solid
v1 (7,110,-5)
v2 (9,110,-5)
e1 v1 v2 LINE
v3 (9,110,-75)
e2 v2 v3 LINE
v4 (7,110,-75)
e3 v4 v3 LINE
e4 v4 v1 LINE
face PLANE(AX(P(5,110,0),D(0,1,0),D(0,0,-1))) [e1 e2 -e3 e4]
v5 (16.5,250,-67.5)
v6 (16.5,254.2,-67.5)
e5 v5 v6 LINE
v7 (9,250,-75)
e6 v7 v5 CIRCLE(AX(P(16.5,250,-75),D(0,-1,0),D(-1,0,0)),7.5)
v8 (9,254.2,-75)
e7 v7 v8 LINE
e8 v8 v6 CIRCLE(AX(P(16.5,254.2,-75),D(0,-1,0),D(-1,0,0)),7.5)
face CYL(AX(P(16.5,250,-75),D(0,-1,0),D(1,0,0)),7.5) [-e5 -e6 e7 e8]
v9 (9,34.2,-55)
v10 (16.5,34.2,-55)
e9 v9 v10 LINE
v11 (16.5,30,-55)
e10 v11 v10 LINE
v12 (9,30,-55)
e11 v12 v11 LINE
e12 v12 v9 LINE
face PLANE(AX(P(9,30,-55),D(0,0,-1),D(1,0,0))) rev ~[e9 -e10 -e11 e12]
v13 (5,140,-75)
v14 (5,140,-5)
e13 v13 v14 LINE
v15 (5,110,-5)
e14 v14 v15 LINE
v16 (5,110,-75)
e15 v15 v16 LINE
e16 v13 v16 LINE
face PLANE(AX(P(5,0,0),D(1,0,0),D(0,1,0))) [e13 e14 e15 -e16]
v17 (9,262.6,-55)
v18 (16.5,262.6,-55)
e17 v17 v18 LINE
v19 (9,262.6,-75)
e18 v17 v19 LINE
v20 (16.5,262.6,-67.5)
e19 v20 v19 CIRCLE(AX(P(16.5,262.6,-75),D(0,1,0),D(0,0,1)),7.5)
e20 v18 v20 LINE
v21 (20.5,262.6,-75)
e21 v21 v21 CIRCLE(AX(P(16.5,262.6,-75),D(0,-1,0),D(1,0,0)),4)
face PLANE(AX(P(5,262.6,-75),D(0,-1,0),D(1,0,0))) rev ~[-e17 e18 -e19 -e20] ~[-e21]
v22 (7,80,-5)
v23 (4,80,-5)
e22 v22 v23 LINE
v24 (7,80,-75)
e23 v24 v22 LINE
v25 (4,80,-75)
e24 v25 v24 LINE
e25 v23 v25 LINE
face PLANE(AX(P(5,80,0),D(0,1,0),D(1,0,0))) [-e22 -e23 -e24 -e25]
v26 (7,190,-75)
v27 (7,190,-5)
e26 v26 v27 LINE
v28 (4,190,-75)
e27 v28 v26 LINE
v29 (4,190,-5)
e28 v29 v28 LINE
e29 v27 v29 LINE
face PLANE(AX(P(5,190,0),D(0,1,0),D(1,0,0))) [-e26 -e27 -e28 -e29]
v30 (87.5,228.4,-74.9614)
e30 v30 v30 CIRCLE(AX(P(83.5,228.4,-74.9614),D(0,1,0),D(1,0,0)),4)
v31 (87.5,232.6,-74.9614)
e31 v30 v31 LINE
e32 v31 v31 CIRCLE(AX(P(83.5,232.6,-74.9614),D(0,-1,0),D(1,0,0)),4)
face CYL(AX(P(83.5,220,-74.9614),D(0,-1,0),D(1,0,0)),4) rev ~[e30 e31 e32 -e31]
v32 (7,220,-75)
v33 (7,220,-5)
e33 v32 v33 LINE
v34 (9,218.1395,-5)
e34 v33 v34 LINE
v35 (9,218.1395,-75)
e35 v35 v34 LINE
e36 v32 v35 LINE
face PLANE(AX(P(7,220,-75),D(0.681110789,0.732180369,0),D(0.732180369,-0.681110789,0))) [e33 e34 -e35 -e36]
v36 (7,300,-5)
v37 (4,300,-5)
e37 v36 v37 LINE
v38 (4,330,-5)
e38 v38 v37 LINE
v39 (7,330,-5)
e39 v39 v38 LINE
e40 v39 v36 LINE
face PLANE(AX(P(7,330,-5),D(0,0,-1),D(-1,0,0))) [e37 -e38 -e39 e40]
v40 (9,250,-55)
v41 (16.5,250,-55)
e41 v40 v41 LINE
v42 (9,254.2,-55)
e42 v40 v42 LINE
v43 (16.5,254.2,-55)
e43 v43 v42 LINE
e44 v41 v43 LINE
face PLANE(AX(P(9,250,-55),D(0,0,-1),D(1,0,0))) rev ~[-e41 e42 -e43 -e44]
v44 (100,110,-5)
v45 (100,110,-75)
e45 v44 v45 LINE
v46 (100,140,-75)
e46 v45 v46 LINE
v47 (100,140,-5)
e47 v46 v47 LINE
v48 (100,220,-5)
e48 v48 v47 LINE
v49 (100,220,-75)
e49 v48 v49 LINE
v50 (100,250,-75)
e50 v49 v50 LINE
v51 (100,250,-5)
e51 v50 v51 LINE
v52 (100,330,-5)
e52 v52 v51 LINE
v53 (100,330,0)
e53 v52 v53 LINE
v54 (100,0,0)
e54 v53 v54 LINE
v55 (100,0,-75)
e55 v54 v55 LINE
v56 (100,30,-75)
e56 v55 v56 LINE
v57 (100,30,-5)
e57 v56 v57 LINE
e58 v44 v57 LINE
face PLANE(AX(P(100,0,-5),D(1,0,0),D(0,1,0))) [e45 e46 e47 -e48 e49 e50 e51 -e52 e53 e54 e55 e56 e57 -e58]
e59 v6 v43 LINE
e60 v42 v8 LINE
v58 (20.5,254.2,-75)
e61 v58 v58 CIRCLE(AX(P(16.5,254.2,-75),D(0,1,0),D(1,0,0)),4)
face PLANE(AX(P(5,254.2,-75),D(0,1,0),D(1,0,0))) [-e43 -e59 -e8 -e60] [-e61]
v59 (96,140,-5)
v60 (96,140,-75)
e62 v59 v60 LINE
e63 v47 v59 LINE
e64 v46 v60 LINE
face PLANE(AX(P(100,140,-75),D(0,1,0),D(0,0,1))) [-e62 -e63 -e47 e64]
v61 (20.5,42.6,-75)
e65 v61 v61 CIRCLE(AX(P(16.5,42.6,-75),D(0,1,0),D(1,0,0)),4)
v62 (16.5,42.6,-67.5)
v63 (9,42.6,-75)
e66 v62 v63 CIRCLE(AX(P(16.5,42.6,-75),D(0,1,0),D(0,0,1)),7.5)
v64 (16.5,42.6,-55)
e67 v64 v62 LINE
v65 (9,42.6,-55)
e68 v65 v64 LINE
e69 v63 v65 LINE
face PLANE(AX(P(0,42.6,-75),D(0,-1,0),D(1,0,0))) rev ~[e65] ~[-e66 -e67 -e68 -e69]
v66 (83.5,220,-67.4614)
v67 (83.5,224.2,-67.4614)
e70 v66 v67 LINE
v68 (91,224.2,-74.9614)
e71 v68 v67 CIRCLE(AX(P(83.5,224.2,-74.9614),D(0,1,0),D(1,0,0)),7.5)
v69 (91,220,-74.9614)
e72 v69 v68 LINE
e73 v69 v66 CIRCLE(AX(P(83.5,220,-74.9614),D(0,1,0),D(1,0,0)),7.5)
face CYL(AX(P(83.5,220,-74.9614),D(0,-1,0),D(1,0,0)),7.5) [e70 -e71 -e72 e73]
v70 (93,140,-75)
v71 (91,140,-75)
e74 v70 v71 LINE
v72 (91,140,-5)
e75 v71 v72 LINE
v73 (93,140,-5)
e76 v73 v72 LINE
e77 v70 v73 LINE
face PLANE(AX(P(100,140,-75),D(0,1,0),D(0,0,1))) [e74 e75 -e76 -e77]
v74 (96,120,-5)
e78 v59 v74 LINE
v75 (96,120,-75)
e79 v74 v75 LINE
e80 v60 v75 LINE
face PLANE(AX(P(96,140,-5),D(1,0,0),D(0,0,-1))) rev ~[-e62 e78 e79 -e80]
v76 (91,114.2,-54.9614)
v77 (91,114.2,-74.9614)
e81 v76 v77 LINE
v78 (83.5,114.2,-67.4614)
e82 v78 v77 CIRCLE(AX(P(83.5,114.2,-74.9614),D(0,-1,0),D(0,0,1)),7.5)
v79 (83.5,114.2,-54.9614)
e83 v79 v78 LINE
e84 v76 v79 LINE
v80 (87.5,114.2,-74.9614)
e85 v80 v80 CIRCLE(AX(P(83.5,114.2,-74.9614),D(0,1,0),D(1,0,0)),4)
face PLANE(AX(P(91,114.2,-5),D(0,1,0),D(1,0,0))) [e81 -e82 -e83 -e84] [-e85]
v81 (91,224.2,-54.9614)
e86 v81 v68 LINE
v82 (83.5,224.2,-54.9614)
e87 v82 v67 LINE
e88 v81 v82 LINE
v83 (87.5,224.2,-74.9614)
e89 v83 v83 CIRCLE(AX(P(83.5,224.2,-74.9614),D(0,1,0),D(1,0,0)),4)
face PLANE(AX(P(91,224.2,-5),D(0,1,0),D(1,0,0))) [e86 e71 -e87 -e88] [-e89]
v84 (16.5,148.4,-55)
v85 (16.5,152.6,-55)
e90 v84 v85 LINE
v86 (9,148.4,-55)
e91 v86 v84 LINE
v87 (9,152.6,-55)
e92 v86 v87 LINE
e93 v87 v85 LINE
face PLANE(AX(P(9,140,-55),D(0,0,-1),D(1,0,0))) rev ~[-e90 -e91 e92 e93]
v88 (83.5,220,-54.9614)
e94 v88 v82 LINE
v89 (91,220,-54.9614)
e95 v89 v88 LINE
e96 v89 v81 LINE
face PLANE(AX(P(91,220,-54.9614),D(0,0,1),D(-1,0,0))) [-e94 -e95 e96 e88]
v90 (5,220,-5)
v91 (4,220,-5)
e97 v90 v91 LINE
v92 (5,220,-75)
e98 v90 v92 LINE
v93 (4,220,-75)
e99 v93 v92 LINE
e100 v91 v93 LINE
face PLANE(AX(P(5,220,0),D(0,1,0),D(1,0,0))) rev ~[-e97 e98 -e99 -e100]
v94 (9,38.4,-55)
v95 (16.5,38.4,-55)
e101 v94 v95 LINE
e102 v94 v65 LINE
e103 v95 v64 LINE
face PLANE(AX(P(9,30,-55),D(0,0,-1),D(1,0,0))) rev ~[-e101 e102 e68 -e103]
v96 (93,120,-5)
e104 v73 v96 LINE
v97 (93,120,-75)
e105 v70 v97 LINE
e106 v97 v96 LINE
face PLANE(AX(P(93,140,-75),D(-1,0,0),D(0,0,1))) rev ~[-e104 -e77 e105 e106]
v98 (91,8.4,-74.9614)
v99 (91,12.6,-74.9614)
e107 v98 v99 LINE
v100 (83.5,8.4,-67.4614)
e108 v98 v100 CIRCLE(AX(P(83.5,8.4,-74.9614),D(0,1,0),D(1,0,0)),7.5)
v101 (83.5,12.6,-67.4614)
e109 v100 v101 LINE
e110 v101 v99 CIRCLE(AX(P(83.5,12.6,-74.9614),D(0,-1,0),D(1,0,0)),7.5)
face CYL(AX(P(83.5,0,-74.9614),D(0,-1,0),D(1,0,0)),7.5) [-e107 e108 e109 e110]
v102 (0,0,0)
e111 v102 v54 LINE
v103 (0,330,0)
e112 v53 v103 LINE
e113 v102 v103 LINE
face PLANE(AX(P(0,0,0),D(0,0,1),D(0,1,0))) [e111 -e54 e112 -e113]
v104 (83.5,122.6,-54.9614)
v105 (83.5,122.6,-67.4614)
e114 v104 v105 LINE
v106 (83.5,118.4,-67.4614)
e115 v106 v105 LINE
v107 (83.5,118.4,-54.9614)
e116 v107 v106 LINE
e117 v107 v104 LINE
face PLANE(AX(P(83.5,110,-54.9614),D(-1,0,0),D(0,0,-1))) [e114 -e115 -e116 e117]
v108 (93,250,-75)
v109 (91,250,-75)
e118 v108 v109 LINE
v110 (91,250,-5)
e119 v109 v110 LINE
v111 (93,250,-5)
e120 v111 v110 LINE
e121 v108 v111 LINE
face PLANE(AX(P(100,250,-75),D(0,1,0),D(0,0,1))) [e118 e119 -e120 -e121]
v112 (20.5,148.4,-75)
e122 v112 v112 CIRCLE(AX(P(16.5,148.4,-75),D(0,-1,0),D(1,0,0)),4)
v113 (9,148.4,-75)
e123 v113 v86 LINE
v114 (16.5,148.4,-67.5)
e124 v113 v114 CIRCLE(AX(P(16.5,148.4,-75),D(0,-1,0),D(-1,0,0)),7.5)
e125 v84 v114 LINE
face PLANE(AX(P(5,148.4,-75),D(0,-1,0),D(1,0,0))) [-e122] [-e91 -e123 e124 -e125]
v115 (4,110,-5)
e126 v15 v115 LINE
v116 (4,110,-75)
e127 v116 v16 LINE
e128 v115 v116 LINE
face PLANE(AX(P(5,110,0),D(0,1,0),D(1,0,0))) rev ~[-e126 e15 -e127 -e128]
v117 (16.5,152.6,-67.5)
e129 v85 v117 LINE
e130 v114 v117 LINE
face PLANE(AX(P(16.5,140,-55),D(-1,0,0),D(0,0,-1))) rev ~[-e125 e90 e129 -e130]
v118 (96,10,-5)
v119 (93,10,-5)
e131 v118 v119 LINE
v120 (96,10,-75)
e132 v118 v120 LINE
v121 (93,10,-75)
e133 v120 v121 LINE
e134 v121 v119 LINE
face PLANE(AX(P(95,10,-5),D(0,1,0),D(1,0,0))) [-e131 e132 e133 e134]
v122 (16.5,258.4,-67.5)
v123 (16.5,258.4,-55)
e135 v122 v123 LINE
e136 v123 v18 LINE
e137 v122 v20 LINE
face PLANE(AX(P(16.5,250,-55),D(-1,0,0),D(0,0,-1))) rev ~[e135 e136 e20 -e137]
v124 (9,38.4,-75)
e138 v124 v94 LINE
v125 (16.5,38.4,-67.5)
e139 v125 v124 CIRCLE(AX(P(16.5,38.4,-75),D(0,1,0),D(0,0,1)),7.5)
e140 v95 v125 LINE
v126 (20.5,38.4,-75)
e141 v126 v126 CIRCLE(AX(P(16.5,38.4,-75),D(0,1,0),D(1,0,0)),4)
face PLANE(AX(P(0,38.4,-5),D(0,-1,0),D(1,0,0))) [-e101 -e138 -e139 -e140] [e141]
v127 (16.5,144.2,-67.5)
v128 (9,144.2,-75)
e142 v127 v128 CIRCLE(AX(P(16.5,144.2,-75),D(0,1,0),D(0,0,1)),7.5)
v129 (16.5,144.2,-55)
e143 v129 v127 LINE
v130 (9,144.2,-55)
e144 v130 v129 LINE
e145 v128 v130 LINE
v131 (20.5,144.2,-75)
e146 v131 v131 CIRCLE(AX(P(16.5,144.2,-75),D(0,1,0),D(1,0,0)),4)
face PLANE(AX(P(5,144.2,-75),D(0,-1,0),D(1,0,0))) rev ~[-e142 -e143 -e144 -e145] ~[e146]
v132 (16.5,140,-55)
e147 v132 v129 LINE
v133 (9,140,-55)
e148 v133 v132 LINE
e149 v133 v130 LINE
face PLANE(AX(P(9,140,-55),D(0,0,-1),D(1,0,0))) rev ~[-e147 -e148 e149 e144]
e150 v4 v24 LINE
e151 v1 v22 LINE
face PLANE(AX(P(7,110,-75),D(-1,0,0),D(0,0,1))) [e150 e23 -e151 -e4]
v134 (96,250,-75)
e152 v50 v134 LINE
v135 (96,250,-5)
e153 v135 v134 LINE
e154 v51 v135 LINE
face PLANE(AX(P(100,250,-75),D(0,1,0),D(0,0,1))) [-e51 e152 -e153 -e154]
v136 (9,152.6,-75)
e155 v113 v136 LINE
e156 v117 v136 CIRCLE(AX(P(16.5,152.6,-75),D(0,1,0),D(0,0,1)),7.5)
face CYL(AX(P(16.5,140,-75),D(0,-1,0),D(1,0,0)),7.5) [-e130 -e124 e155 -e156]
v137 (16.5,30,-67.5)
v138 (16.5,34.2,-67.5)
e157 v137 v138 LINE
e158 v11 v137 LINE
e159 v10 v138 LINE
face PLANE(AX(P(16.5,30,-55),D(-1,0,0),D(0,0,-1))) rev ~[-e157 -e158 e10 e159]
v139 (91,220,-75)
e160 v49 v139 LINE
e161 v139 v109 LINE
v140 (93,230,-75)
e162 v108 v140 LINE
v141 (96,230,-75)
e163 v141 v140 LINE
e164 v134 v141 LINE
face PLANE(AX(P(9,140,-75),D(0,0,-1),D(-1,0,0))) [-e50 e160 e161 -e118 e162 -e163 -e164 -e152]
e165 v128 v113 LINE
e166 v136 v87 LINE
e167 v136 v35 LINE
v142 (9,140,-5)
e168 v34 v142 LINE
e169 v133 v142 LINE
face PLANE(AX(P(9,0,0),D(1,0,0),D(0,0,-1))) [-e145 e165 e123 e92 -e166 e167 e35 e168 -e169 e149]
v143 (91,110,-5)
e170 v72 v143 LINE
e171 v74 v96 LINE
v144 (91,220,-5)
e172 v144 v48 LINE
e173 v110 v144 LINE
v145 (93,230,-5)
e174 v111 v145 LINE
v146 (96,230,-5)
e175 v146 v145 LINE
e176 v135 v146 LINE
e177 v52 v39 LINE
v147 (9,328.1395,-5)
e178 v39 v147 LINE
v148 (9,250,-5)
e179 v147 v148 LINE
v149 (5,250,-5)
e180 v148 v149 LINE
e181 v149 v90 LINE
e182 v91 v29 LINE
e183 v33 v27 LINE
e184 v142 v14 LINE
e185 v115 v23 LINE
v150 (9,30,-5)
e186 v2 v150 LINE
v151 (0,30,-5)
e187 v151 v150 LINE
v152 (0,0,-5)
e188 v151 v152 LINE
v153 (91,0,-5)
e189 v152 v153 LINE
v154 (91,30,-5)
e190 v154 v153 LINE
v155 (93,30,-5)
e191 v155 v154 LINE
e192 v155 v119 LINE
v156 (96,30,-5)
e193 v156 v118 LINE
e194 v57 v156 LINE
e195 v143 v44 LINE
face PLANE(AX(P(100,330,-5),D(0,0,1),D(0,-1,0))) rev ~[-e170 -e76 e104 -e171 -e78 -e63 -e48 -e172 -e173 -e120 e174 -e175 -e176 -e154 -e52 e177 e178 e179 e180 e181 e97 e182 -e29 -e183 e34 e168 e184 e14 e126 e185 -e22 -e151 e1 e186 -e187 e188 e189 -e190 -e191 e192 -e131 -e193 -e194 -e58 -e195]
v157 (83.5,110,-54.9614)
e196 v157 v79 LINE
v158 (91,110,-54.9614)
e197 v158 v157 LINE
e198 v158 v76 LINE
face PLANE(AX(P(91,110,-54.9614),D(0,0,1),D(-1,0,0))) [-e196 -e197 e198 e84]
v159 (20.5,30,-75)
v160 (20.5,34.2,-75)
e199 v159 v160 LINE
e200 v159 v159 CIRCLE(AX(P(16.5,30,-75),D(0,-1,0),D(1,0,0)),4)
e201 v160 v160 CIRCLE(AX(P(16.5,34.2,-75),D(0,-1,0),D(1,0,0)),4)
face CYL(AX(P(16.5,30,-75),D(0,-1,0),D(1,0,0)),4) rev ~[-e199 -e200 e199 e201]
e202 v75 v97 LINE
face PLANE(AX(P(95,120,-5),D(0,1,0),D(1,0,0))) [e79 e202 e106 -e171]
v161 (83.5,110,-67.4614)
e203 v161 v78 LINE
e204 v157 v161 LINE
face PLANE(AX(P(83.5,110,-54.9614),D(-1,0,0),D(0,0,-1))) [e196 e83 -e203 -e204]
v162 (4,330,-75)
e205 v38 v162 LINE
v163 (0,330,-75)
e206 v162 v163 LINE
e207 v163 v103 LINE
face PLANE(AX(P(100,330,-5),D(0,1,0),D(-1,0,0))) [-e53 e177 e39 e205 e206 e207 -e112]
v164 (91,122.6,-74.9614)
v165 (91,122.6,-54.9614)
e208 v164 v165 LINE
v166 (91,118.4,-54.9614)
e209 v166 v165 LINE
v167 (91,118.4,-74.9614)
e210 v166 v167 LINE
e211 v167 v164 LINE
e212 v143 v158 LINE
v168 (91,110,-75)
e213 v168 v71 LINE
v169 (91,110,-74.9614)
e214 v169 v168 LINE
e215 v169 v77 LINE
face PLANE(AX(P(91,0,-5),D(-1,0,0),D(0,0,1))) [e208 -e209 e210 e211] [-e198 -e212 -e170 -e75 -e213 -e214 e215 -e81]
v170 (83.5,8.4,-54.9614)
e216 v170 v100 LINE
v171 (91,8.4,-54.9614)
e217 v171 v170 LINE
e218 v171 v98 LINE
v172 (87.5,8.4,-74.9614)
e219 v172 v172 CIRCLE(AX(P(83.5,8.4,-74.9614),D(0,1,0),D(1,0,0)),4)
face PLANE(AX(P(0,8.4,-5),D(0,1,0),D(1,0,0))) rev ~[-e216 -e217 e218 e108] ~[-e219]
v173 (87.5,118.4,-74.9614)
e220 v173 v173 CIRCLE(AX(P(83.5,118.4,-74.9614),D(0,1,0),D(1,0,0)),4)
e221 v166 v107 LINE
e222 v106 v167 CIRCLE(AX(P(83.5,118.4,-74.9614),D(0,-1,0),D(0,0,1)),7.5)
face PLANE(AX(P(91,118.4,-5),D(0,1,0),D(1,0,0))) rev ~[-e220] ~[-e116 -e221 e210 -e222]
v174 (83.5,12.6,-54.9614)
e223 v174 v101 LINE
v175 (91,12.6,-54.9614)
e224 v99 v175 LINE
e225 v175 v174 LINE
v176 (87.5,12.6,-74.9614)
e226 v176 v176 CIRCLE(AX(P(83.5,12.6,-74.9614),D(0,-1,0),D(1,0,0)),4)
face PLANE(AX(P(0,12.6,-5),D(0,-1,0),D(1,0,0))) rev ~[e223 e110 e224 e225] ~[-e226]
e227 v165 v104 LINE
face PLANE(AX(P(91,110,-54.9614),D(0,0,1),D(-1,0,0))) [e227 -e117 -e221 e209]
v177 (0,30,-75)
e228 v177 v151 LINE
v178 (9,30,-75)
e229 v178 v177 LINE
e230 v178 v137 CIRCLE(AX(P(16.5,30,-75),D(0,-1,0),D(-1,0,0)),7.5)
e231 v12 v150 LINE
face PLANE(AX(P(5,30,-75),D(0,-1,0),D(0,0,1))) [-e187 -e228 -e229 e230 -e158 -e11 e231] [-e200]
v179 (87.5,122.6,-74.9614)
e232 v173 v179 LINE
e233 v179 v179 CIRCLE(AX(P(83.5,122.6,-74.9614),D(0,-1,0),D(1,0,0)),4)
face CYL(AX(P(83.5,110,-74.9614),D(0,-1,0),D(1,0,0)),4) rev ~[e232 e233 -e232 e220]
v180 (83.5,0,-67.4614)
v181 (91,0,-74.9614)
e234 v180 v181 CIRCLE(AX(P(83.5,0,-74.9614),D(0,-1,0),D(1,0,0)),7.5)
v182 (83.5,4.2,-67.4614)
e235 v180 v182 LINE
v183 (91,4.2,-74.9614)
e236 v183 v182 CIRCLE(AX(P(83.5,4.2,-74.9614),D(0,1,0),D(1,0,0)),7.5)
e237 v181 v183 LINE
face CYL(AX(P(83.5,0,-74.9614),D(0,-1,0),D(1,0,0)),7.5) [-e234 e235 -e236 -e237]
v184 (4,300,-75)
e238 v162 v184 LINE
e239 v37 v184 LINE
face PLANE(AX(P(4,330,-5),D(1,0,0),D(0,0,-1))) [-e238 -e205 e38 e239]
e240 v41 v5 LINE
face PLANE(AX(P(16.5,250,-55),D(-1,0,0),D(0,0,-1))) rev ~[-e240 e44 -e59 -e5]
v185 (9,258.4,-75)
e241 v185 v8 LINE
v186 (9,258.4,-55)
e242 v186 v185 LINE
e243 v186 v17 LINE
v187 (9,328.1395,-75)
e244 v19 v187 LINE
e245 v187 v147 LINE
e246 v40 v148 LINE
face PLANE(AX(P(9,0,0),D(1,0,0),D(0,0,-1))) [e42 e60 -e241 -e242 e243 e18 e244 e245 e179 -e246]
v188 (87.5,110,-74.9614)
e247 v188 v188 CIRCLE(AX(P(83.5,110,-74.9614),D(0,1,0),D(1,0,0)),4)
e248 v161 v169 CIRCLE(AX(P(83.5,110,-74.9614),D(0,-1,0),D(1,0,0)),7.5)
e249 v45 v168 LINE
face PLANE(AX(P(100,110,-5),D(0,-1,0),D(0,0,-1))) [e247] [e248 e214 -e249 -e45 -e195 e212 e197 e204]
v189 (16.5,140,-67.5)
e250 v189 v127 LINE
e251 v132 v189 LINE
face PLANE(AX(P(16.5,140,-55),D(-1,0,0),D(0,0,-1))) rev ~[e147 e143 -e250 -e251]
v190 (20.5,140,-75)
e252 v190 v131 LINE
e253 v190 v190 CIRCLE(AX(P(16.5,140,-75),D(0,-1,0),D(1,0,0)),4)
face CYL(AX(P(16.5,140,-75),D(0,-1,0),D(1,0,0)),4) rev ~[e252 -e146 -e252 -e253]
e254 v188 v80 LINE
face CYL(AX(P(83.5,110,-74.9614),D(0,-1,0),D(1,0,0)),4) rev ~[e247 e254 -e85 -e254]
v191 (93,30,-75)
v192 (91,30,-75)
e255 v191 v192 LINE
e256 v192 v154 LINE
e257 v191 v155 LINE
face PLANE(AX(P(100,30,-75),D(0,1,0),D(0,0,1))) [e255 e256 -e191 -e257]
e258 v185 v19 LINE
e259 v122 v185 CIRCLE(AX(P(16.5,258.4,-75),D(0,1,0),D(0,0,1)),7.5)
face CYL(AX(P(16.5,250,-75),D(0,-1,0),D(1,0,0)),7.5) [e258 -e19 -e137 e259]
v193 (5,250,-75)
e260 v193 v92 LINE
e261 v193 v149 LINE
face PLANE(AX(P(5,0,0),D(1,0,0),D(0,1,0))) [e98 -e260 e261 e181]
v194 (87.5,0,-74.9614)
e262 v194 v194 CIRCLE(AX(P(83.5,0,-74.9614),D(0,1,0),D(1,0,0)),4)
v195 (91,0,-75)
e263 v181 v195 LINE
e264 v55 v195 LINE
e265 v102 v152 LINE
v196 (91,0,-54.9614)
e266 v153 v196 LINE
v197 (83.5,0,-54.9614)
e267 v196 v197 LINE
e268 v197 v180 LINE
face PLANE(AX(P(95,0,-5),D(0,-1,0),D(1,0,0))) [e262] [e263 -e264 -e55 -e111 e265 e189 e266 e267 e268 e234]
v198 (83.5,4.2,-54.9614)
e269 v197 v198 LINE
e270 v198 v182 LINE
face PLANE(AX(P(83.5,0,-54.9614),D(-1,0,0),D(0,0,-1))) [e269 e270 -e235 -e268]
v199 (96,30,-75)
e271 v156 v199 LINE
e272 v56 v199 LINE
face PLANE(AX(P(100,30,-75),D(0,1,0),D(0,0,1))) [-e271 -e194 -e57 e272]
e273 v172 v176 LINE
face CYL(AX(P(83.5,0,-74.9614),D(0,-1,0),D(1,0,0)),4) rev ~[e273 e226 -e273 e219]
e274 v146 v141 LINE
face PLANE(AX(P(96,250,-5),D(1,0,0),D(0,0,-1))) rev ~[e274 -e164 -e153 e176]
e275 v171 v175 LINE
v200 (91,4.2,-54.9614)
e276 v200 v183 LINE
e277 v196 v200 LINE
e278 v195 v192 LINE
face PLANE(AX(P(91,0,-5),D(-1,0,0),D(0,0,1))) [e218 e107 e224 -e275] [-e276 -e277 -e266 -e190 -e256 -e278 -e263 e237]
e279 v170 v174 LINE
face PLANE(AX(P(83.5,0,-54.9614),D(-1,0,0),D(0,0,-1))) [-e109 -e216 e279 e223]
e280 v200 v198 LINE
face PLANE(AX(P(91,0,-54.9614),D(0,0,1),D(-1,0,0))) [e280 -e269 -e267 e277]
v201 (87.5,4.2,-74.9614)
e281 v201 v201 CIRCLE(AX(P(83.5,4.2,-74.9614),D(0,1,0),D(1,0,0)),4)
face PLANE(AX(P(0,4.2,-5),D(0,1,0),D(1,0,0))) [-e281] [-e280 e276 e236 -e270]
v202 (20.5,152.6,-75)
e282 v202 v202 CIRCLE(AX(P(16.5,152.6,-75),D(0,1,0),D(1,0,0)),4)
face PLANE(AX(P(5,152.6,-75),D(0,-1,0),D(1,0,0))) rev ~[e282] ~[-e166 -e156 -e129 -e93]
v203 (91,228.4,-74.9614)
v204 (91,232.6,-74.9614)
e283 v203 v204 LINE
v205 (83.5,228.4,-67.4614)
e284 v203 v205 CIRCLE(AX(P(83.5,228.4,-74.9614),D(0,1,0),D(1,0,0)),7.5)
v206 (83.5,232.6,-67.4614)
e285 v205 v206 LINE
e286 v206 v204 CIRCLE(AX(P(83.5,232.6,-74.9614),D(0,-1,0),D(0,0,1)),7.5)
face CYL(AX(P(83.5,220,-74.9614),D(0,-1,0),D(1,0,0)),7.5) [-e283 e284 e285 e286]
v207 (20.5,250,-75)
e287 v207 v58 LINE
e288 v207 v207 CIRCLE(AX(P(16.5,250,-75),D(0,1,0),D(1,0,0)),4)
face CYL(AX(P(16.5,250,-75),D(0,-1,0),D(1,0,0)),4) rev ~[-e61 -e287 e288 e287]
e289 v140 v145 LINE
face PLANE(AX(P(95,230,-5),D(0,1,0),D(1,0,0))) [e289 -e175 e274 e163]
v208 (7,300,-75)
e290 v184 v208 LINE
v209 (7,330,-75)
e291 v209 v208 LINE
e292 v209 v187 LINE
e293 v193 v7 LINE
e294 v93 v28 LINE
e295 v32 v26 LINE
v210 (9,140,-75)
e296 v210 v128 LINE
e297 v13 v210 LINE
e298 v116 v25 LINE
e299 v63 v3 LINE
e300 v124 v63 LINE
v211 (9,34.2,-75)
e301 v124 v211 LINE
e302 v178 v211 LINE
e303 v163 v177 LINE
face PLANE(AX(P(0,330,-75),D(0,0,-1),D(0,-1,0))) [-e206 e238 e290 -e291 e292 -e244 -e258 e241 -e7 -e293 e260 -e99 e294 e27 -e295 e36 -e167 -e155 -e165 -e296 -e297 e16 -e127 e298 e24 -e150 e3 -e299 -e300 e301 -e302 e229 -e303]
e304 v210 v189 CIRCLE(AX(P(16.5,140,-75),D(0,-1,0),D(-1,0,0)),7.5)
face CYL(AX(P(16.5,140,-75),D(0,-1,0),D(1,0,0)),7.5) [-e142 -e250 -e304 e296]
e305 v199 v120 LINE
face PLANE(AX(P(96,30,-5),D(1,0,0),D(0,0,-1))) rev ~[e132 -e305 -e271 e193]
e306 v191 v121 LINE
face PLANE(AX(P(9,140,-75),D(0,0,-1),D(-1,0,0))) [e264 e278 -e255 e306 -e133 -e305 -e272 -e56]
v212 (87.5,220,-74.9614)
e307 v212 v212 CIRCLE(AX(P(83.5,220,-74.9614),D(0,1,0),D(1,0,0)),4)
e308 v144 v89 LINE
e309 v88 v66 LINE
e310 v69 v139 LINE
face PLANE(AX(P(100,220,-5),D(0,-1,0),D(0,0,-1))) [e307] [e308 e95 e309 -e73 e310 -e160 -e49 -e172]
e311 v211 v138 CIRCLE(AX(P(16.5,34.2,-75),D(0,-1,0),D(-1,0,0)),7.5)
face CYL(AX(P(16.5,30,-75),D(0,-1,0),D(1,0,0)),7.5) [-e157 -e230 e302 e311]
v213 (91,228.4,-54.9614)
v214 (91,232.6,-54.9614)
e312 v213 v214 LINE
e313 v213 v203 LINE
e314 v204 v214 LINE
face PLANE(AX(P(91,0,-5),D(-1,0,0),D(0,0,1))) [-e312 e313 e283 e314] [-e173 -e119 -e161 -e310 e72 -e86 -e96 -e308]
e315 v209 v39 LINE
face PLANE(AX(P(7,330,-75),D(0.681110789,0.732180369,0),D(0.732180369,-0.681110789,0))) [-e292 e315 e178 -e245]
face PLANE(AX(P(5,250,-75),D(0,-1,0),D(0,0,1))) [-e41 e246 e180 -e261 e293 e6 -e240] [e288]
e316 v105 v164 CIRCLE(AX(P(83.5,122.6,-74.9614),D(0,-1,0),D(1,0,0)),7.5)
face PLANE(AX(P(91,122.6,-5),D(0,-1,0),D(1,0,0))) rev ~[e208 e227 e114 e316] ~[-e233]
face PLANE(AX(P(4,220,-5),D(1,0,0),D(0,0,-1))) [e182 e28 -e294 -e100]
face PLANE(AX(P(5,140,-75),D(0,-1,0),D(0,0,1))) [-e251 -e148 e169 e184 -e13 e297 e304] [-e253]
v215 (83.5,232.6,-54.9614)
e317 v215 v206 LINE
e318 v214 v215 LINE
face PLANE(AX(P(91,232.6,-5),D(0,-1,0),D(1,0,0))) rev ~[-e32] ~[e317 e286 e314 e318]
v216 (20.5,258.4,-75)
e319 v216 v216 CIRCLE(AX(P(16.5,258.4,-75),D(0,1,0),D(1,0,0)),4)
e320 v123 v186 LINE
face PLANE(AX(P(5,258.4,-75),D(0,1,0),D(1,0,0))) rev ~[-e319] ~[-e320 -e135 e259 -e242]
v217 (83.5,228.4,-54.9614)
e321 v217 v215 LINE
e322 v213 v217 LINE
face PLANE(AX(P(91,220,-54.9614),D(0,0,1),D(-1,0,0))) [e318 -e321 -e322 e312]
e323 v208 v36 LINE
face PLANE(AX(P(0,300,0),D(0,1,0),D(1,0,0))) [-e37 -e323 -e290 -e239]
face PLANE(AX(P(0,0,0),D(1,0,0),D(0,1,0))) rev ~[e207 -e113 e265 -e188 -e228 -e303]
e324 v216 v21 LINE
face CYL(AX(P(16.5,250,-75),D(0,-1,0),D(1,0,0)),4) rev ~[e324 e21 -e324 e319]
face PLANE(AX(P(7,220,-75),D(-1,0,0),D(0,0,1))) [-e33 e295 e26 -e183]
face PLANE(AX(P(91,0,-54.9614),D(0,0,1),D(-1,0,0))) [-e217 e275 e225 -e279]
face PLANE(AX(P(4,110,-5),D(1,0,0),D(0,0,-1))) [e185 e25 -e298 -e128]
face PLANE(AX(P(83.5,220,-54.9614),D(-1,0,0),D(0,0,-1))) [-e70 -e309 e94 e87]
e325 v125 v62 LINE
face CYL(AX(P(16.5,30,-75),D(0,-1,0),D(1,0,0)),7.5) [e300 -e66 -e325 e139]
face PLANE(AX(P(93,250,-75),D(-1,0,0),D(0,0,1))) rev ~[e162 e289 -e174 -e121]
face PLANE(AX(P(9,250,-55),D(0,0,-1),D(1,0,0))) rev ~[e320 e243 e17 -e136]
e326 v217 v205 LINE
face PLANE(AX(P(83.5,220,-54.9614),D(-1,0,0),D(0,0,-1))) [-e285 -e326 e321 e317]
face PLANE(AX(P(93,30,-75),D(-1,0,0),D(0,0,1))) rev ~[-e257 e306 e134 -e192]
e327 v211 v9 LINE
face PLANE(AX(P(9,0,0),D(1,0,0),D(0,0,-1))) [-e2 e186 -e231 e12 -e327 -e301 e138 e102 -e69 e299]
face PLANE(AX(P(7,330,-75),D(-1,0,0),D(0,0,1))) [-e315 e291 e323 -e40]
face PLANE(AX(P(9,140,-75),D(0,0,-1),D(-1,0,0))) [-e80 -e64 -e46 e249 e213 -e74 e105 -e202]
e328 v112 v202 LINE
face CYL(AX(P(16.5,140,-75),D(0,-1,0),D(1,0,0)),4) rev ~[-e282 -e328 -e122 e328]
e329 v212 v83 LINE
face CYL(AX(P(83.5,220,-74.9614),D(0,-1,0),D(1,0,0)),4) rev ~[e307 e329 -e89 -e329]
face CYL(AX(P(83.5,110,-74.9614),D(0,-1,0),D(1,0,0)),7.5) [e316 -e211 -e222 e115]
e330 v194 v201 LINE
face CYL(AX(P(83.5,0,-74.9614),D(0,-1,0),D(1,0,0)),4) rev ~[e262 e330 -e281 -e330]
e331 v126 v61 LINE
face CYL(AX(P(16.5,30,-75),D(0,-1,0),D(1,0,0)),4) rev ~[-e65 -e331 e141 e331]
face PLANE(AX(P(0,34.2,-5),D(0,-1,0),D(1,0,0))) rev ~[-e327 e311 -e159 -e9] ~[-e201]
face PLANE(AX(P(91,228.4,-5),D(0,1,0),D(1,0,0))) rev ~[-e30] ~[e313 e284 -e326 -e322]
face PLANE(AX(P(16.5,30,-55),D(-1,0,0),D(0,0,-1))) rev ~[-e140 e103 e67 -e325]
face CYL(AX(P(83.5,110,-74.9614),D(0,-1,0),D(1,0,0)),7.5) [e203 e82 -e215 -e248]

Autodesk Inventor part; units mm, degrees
sketch "Boceto1" plane through (0, 0, 0) normal (1, 0, 0) x (0, 1, 0)
  line L0 (0, 0) -> (330, 0)
  line L1 (330, 0) -> (330, -75)
  line L2 (330, -75) -> (0, -75)
  line L3 (0, -75) -> (0, 0)
  dimension "d0" = 75
  dimension "d1" = 330
extrude "Extrusión1" add sketch "Boceto1" along normal blind 5
sketch "Boceto2" plane through (5, 0, 0) normal (1, 0, 0) x (0, 0, -1)
  line L0 (75, 330) -> (0, 330) construction
  line L1 (37.5, 330) -> (37.5, 250) construction
  line L2 (37.5, 250) -> (37.5, 220) construction
  line L3 (37.5, 220) -> (37.5, 140) construction
  line L4 (37.5, 140) -> (37.5, 110) construction
  line L5 (37.5, 110) -> (37.5, 30) construction
  line L6 (37.5, 30) -> (37.5, 0) construction
  line L7 (75, 0) -> (75, 330) projected
  line L8 (0, 330) -> (75, 330)
  line L9 (75, 330) -> (75, 250)
  line L10 (75, 250) -> (0, 250)
  line L11 (0, 250) -> (0, 330)
  line L12 (75, 140) -> (0, 140)
  line L13 (0, 140) -> (0, 220)
  line L14 (0, 220) -> (75, 220)
  line L15 (75, 220) -> (75, 140)
  line L16 (75, 30) -> (0, 30)
  line L17 (0, 30) -> (0, 110)
  line L18 (0, 110) -> (75, 110)
  line L19 (75, 110) -> (75, 30)
  point P0 (0, 0)
  dimension "d4" = 80
  dimension "d5" = 30
  dimension "d6" = 80
  dimension "d7" = 30
  dimension "d8" = 80
  dimension "d9" = 30
  dimension "d12" = 110
extrude "Extrusión2" add sketch "Boceto2" along normal blind 4
sketch "Boceto3" plane through (0, 330, 0) normal (0, 1, 0) x (1, 0, 0)
  line L0 (7, 5) -> (4, 5)
  line L1 (4, 5) -> (4, 75)
  line L2 (4, 75) -> (7, 75)
  line L3 (7, 75) -> (7, 5)
  line L4 (0, 0) -> (9, 0) projected
  line L5 (0, 75) -> (9, 75) projected
  line L6 (9, 75) -> (9, 0) projected
  line L7 (0, 75) -> (0, 0) projected
  dimension "d22" = 5
  dimension "d23" = 0
  dimension "d24" = 2
  dimension "d73" = 3
sketch "Boceto4" plane through (5, 220, 0) normal (0, 1, 0) x (1, 0, 0)
  line L0 (2, 5) -> (-1, 5) projected
  line L1 (-1, 5) -> (-1, 75) projected
  line L2 (2, 75) -> (2, 5) projected
  line L3 (-1, 75) -> (2, 75) projected
  point P0 (-5, 0)
sketch "Boceto5" plane through (5, 110, 0) normal (0, 1, 0) x (1, 0, 0)
  line L0 (2, 5) -> (-1, 5) projected
  line L1 (2, 75) -> (2, 5) projected
  line L2 (-1, 5) -> (-1, 75) projected
  line L3 (-1, 75) -> (2, 75) projected
  point P0 (-5, 0)
extrude "Extrusión3" cut sketch "Boceto3" against normal blind 30 contours L0 L1 L2 L3
extrude "Extrusión4" cut sketch "Boceto4" against normal blind 30
extrude "Extrusión5" cut sketch "Boceto5" against normal blind 30
sketch "Boceto7" plane through (0, 0, 0) normal (-1, 0, 0) x (0, 0, 1)
  line L0 (0, 0) -> (-75, 0) projected
  line L1 (-5, 330) -> (-75, 330) projected
  line L2 (0, 0) -> (-5, 0)
  line L3 (-5, 0) -> (-5, 330)
  line L4 (-5, 330) -> (0, 330)
  line L5 (0, 330) -> (0, 0)
  point P0 (-73, 330)
  dimension "d32" = 5
extrude "Extrusión6" add sketch "Boceto7" against normal blind 100
sketch "Boceto8" plane through (9, 140, -5) normal (0, 0, -1) x (-1, 0, 0)
  line L0 (-91, -140) -> (-91, 190) projected
  line L1 (-91, 190) -> (-86, 190)
  line L2 (-86, 190) -> (-86, -140)
  line L3 (-86, -140) -> (-91, -140)
  line L4 (-91, -140) -> (-91, 190)
  point P0 (9, -140)
  dimension "d35" = 5
  dimension "d36" = 330
extrude "Extrusión7" add sketch "Boceto8" along normal blind 70
sketch "Boceto9" plane through (95, 0, -5) normal (-1, 0, 0) x (0, 0, 1)
  line L0 (5, 330) -> (-70, 330) construction
  line L1 (-32.5, 330) -> (-32.5, 250) construction
  line L2 (-32.5, 250) -> (-32.5, 220) construction
  line L3 (-32.5, 220) -> (-32.5, 140) construction
  line L4 (-32.5, 140) -> (-32.5, 110) construction
  line L5 (-32.5, 110) -> (-32.5, 30) construction
  line L6 (-32.5, 30) -> (-32.5, 0) construction
  line L7 (5, 0) -> (-70, 0) construction
  line L8 (0, 330) -> (0, 0) projected
  line L9 (0, 220) -> (-70, 220)
  line L10 (-70, 220) -> (-70, 250)
  line L11 (-70, 250) -> (0, 250)
  line L12 (0, 250) -> (0, 220)
  line L13 (-70, 140) -> (0, 140)
  line L14 (-70, 110) -> (-70, 140)
  line L15 (0, 110) -> (-70, 110)
  line L16 (0, 140) -> (0, 110)
  line L17 (-70, 30) -> (0, 30)
  line L18 (-70, 0) -> (-70, 30)
  line L19 (0, 0) -> (-70, 0)
  line L20 (0, 30) -> (0, 0)
  line L21 (-70, -80) -> (0, -80)
  line L22 (-70, -110) -> (-70, -80)
  line L23 (0, -110) -> (-70, -110)
  line L24 (0, -80) -> (0, -110)
  line L25 (-70, -190) -> (0, -190)
  line L26 (-70, -220) -> (-70, -190)
  line L27 (0, -220) -> (-70, -220)
  line L28 (0, -190) -> (0, -220)
  line L29 (-70, -300) -> (0, -300)
  line L30 (-70, -330) -> (-70, -300)
  line L31 (0, -330) -> (-70, -330)
  line L32 (0, -300) -> (0, -330)
  line L33 (-70, -410) -> (0, -410)
  line L34 (-70, -440) -> (-70, -410)
  line L35 (0, -440) -> (-70, -440)
  line L36 (0, -410) -> (0, -440)
  line L37 (-70, -520) -> (0, -520)
  line L38 (-70, -550) -> (-70, -520)
  line L39 (0, -550) -> (-70, -550)
  line L40 (0, -520) -> (0, -550)
  line L41 (-70, -630) -> (0, -630)
  line L42 (-70, -660) -> (-70, -630)
  line L43 (0, -660) -> (-70, -660)
  line L44 (0, -630) -> (0, -660)
  line L45 (-70, -740) -> (0, -740)
  line L46 (-70, -770) -> (-70, -740)
  line L47 (0, -770) -> (-70, -770)
  line L48 (0, -740) -> (0, -770)
  line L49 (-70, -850) -> (0, -850)
  line L50 (-70, -880) -> (-70, -850)
  line L51 (0, -880) -> (-70, -880)
  line L52 (0, -850) -> (0, -880)
  line L53 (-70, -960) -> (0, -960)
  line L54 (-70, -990) -> (-70, -960)
  line L55 (0, -990) -> (-70, -990)
  line L56 (0, -960) -> (0, -990)
  line L57 (-70, -1070) -> (0, -1070)
  line L58 (-70, -1100) -> (-70, -1070)
  line L59 (0, -1100) -> (-70, -1100)
  line L60 (0, -1070) -> (0, -1100)
  line L61 (-70, -1180) -> (0, -1180)
  line L62 (-70, -1210) -> (-70, -1180)
  line L63 (0, -1210) -> (-70, -1210)
  line L64 (0, -1180) -> (0, -1210)
  line L65 (-70, -1290) -> (0, -1290)
  line L66 (-70, -1320) -> (-70, -1290)
  line L67 (0, -1320) -> (-70, -1320)
  line L68 (0, -1290) -> (0, -1320)
  line L69 (-70, -1400) -> (0, -1400)
  line L70 (-70, -1430) -> (-70, -1400)
  line L71 (0, -1430) -> (-70, -1430)
  line L72 (0, -1400) -> (0, -1430)
  line L73 (-70, -1510) -> (0, -1510)
  line L74 (-70, -1540) -> (-70, -1510)
  line L75 (0, -1540) -> (-70, -1540)
  line L76 (0, -1510) -> (0, -1540)
  line L77 (-70, -1620) -> (0, -1620)
  line L78 (-70, -1650) -> (-70, -1620)
  line L79 (0, -1650) -> (-70, -1650)
  line L80 (0, -1620) -> (0, -1650)
  line L81 (-70, -1730) -> (0, -1730)
  line L82 (-70, -1760) -> (-70, -1730)
  line L83 (0, -1760) -> (-70, -1760)
  line L84 (0, -1730) -> (0, -1760)
  line L85 (-70, -1840) -> (0, -1840)
  line L86 (-70, -1870) -> (-70, -1840)
  line L87 (0, -1870) -> (-70, -1870)
  line L88 (0, -1840) -> (0, -1870)
  line L89 (-70, -1950) -> (0, -1950)
  line L90 (-70, -1980) -> (-70, -1950)
  line L91 (0, -1980) -> (-70, -1980)
  line L92 (0, -1950) -> (0, -1980)
  line L93 (-70, -2060) -> (0, -2060)
  line L94 (-70, -2090) -> (-70, -2060)
  line L95 (0, -2090) -> (-70, -2090)
  line L96 (0, -2060) -> (0, -2090)
  line L97 (-70, -2170) -> (0, -2170)
  line L98 (-70, -2200) -> (-70, -2170)
  line L99 (0, -2200) -> (-70, -2200)
  line L100 (0, -2170) -> (0, -2200)
  line L101 (-70, -2280) -> (0, -2280)
  line L102 (-70, -2310) -> (-70, -2280)
  line L103 (0, -2310) -> (-70, -2310)
  line L104 (0, -2280) -> (0, -2310)
  line L105 (-70, -2390) -> (0, -2390)
  line L106 (-70, -2420) -> (-70, -2390)
  line L107 (0, -2420) -> (-70, -2420)
  line L108 (0, -2390) -> (0, -2420)
  line L109 (-70, -2500) -> (0, -2500)
  line L110 (-70, -2530) -> (-70, -2500)
  line L111 (0, -2530) -> (-70, -2530)
  line L112 (0, -2500) -> (0, -2530)
  line L113 (-70, -2610) -> (0, -2610)
  line L114 (-70, -2640) -> (-70, -2610)
  line L115 (0, -2640) -> (-70, -2640)
  line L116 (0, -2610) -> (0, -2640)
  line L117 (-70, -2720) -> (0, -2720)
  line L118 (-70, -2750) -> (-70, -2720)
  line L119 (0, -2750) -> (-70, -2750)
  line L120 (0, -2720) -> (0, -2750)
  line L121 (-70, -2830) -> (0, -2830)
  line L122 (-70, -2860) -> (-70, -2830)
  line L123 (0, -2860) -> (-70, -2860)
  line L124 (0, -2830) -> (0, -2860)
  line L125 (-70, -2940) -> (0, -2940)
  line L126 (-70, -2970) -> (-70, -2940)
  line L127 (0, -2970) -> (-70, -2970)
  line L128 (0, -2940) -> (0, -2970)
  point P0 (0, 0)
  dimension "d39" = 80
  dimension "d40" = 30
  dimension "d41" = 80
  dimension "d42" = 30
  dimension "d43" = 80
  dimension "d46" = 110
extrude "Extrusión8" add sketch "Boceto9" along normal blind 4 contours L8 L19 L18 L17 | L8 L15 L14 L13 | L8 L9 L10 L11
sketch "Boceto14" plane through (100, 0, 0) normal (1, 0, 0) x (0, 0, -1)
  line L0 (75, 140) -> (5, 140) projected
  line L1 (5, 220) -> (5, 140) projected
  line L2 (5, 220) -> (75, 220) projected
  line L3 (75, 140) -> (75, 220) projected
  line L4 (75, 30) -> (5, 30) projected
  line L5 (5, 110) -> (5, 30) projected
  line L6 (5, 110) -> (75, 110) projected
  line L7 (75, 30) -> (75, 110) projected
  line L8 (75, 250) -> (5, 250) projected
  line L9 (5, 330) -> (5, 250) projected
  line L10 (5, 330) -> (75, 330) projected
  line L11 (75, 250) -> (75, 330) projected
  point P0 (0, 0)
extrude "Extrusión13" cut sketch "Boceto14" against normal blind 10
sketch "Boceto15" plane through (0, 0, -75) normal (0, 0, -1) x (-1, 0, 0)
  line L0 (-7, 300) -> (-7, 330) projected
  line L1 (-7, 330) -> (-9, 328.1395)
  line L2 (-7, 330) -> (-5.0608, 330) construction
  line L3 (-9, 250) -> (-9, 330) projected
  line L4 (-9, 328.1395) -> (-9, 330)
  line L5 (-9, 330) -> (-7, 330)
  line L6 (0, 330) -> (-100, 330) projected
  line L7 (-7, 220) -> (-9, 218.1395)
  line L8 (-9, 140) -> (-9, 220) projected
  line L9 (-7, 220) -> (-9, 220) projected
  line L10 (-9, 220) -> (-7, 220)
  line L11 (-7, 80) -> (-7, 110) projected
  line L12 (-7, 110) -> (-8.4215, 108.6777)
  line L13 (-7, 110) -> (-5.0585, 110) construction
  line L14 (-7, 110) -> (-9, 110) projected
  line L15 (-7, 110) -> (-9, 110)
  line L16 (-9, 110) -> (-9, 108.1395)
  line L17 (-9, 30) -> (-9, 110) projected
  point P0 (0, 0)
  dimension "d183" = 42.93
  dimension "d184" = 42.93
  dimension "d185" = 42.93
extrude "Extrusión14" cut sketch "Boceto15" against normal blind 70
sketch "Boceto16" plane through (5, 0, 0) normal (1, 0, 0) x (0, 0, -1)
  line L0 (5, 0) -> (75, 0) projected
  line L1 (75, 0) -> (75, 30) projected
  line L2 (75, 30) -> (5, 30) projected
  line L3 (5, 30) -> (5, 0) projected
  point P0 (0, 0)
extrude "Extrusión15" cut sketch "Boceto16" against normal blind 10
sketch "Boceto17" plane through (91, 220, -5) normal (0, -1, 0) x (1, 0, 0)
  line L0 (0, -69.9614) -> (-43.9191, -69.9614) construction
  circle A0 centre (-7.5, -69.9614) radius 7.5
  line L1 (0, -49.9614) -> (-7.5, -49.9614)
  line L2 (-7.5, -49.9614) -> (-7.5, -69.9614)
  line L3 (-7.5, -69.9614) -> (0, -69.9614)
  line L4 (0, -69.9614) -> (0, -49.9614)
  circle A1 centre (-7.5, -69.9614) radius 4
  line L5 (0, -70) -> (0, 0) projected
  point P0 (-91, 5)
  point P1 (-7.5, -62.4614)
  point P2 (0, -69.9614)
  dimension "d81" = 15
  dimension "d80" = 20
  dimension "d82" = 8
  dimension "d83" = 7.5
  dimension "d84" = 0
sketch "Boceto18" plane through (91, 110, -5) normal (0, -1, 0) x (1, 0, 0)
  line L0 (0, -69.9614) -> (0, -49.9614) projected
  line L1 (0, -49.9614) -> (-7.5, -49.9614) projected
  line L2 (-7.5, -49.9614) -> (-7.5, -69.9614) projected
  line L3 (-7.5, -69.9614) -> (0, -69.9614) projected
  circle A0 centre (-7.5, -69.9614) radius 7.5 projected
  circle A1 centre (-7.5, -69.9614) radius 4 projected
  point P0 (-91, 5)
  point P1 (-7.5, -62.4614)
sketch "Boceto19" plane through (0, 0, -5) normal (0, -1, 0) x (1, 0, 0)
  line L0 (91, -69.9614) -> (91, -49.9614) projected
  line L1 (83.5, -69.9614) -> (91, -69.9614) projected
  line L2 (91, -49.9614) -> (83.5, -49.9614) projected
  line L3 (83.5, -49.9614) -> (83.5, -69.9614) projected
  circle A0 centre (83.5, -69.9614) radius 4 projected
  circle A1 centre (83.5, -69.9614) radius 7.5 projected
  point P0 (0, 5)
  point P1 (91, -69.9614)
  point P2 (83.5, -62.4614)
extrude "Extrusión16" add sketch "Boceto19" against normal blind 12.6 contours A1 L3 L2 L0 | A1 L3 A0 L1 | L1 A0 L3 A1
extrude "Extrusión17" add sketch "Boceto18" against normal blind 12.6 contours A0 L2 L1 L0 | A0 L2 A1 L3 | L3 A1 L2 A0
extrude "Extrusión18" add sketch "Boceto17" against normal blind 12.6 contours A0 L2 A1 L3 | L3 A1 L2 A0 | A0 L2 L1 L4
ref_plane "Plano de trabajo1" through (0, 6.3, -5) normal (0, 1, 0) x (1, 0, 0)
ref_plane "Plano de trabajo2" through (91, 116.3, -5) normal (0, 1, 0) x (1, 0, 0)
ref_plane "Plano de trabajo3" through (91, 226.3, -5) normal (0, 1, 0) x (1, 0, 0)
sketch "Boceto20" plane through (0, 6.3, -5) normal (0, 1, 0) x (1, 0, 0)
  circle A0 centre (83.5, 69.9614) radius 4 projected
  line L0 (0, 0) -> (91, 0) projected
  line L1 (91, 49.9614) -> (91, 0) projected
  line L2 (91, 49.9614) -> (83.5, 49.9614) projected
  line L3 (83.5, 49.9614) -> (83.5, 62.4614) projected
  arc A1 (91, 69.9614) -> (83.5, 62.4614) centre (83.5, 69.9614) ccw projected
  line L4 (91, 70) -> (91, 69.9614) projected
  line L5 (100, 70) -> (91, 70) projected
  line L6 (100, -5) -> (100, 70) projected
  line L7 (0, -5) -> (100, -5) projected
  line L8 (0, -5) -> (0, 0) projected
  line L9 (91, 0) -> (91, 70) projected
  line L10 (91, 49.9614) -> (91, 70)
  point P0 (91, 69.9614)
  point P1 (91, 69.9614)
extrude "Extrusión19" cut sketch "Boceto20" along normal mid plane 4.2 contours L2 L3 A1 L9
sketch "Boceto22" plane through (91, 226.3, -5) normal (0, 1, 0) x (1, 0, 0)
  circle A0 centre (-7.5, 69.9614) radius 4 projected
  line L0 (9, 0) -> (0, 0) projected
  line L1 (0, 49.9614) -> (0, 0) projected
  line L2 (0, 49.9614) -> (-7.5, 49.9614) projected
  line L3 (-7.5, 49.9614) -> (-7.5, 62.4614) projected
  arc A1 (0, 69.9614) -> (-7.5, 62.4614) centre (-7.5, 69.9614) ccw projected
  line L4 (0, 70) -> (0, 69.9614) projected
  line L5 (9, 70) -> (0, 70) projected
  line L6 (9, 0) -> (9, 70) projected
  line L7 (-7.5, 49.9614) -> (0, 49.9614) projected
  line L8 (0, 49.9614) -> (0, 70)
  point P0 (-91, -5)
extrude "Extrusión21" cut sketch "Boceto22" along normal mid plane 4.2 contours L2 L3 A1 L8
sketch "Boceto23" plane through (91, 116.3, -5) normal (0, 1, 0) x (1, 0, 0)
  circle A0 centre (-7.5, 69.9614) radius 4 projected
  line L0 (-91, 0) -> (0, 0) projected
  line L1 (0, 49.9614) -> (0, 0) projected
  line L2 (0, 49.9614) -> (-7.5, 49.9614) projected
  line L3 (-7.5, 49.9614) -> (-7.5, 62.4614) projected
  arc A1 (0, 69.9614) -> (-7.5, 62.4614) centre (-7.5, 69.9614) ccw projected
  line L4 (0, 70) -> (0, 69.9614) projected
  line L5 (9, 70) -> (0, 70) projected
  line L6 (9, -5) -> (9, 70) projected
  line L7 (-91, -5) -> (9, -5) projected
  line L8 (-91, -5) -> (-91, 0) projected
  line L9 (0, 0) -> (0, 70) projected
  line L10 (0, 49.9614) -> (0, 70)
extrude "Extrusión22" cut sketch "Boceto23" against normal mid plane 4.2 contours L2 L3 A1 L9
thread "Rosca1" size "M8x1.25" class "6H" standard "ANSI Metric M Profile" full length
sketch "Sketch24" plane through (5, 250, -75) normal (0, -1, 0) x (1, 0, 0)
  line L0 (4, 75) -> (4, 0) projected
  line L1 (4, 0) -> (4, 20)
  line L2 (4, 20) -> (11.5, 20)
  line L3 (11.5, 20) -> (11.5, 0)
  line L4 (11.5, 0) -> (4, 0)
  circle A0 centre (11.5, 0) radius 4
  circle A1 centre (11.5, 0) radius 7.5
  point P0 (-5, 75)
  point P1 (4, 70)
  point P2 (11.5, 7.5)
  dimension "d102" = 20
  dimension "d103" = 7.5
  dimension "d140" = 8
  dimension "d141" = 15
extrude "Extrusion30" add sketch "Sketch24" against normal blind 12.6 contours L2 L3 A1 L0 | A1 L3 A0 L4 | L4 A0 L3 A1
ref_plane "Work Plane8" through (5, 256.3, -75) normal (0, 1, 0) x (1, 0, 0)
sketch "Sketch30" plane through (5, 256.3, -75) normal (0, 1, 0) x (1, 0, 0)
  line L0 (11.5, -20) -> (4, -20)
  line L1 (4, -20) -> (4, 0)
  line L2 (4, 0) -> (11.5, 0)
  line L3 (11.5, 0) -> (11.5, -20)
  circle A0 centre (11.5, 0) radius 4
  circle A1 centre (11.5, 0) radius 7.5
  point P0 (-5, -75)
  point P1 (11.5, -7.5)
  point P2 (7.5, 0)
  point P3 (11.5, -4)
  dimension "d147" = 7.5
  dimension "d148" = 20
  dimension "d149" = 8
  dimension "d150" = 15
extrude "Extrusion31" cut sketch "Sketch30" against normal mid plane 4.2 contours L0 L1 A1 L3 | A1 L2 A0 L3 | L3 A0 L2 A1 | A0 L2 L3 picked at (9.6262, -1.8738)
sketch "Sketch31" plane through (5, 140, -75) normal (0, -1, 0) x (1, 0, 0)
  line L0 (0, 0) -> (4, 0) projected
  line L1 (4, 0) -> (4, 20)
  line L2 (4, 70) -> (4, 0) projected
  line L3 (4, 20) -> (11.5, 20)
  line L4 (11.5, 20) -> (11.5, 0)
  line L5 (11.5, 0) -> (4, 0)
  circle A0 centre (11.5, 0) radius 4
  circle A1 centre (11.5, 0) radius 7.5
  point P0 (-5, 75)
  point P1 (11.5, 7.5)
  dimension "d153" = 20
  dimension "d154" = 7.5
  dimension "d155" = 8
  dimension "d156" = 15
extrude "Extrusion32" add sketch "Sketch31" against normal blind 12.6 contours A1 L4 A0 L5 | L5 A0 L4 A1 | L1 L3 L4 A1
ref_plane "Work Plane9" through (5, 146.3, -75) normal (0, -1, 0) x (1, 0, 0)
sketch "Sketch32" plane through (5, 146.3, -75) normal (0, -1, 0) x (1, 0, 0)
  line L0 (11.5, 20) -> (11.5, 0)
  line L1 (11.5, 0) -> (4, 0)
  line L2 (4, 0) -> (4, 20)
  line L3 (4, 20) -> (11.5, 20)
  circle A0 centre (11.5, 0) radius 4
  circle A1 centre (11.5, 0) radius 7.5
  point P0 (-5, 75)
  point P1 (11.5, 7.5)
  dimension "d160" = 20
  dimension "d161" = 7.5
  dimension "d162" = 20
  dimension "d163" = 8
  dimension "d164" = 15
extrude "Extrusion33" cut sketch "Sketch32" against normal mid plane 4.2 contours L0 A1 L2 L3 | A1 L1 A0 L0 | L0 A0 L1 A1
sketch "Sketch33" plane through (0, 30, -75) normal (0, -1, 0) x (1, 0, 0)
  line L0 (9, 0) -> (9, 20)
  line L1 (9, 20) -> (16.5, 20)
  line L2 (16.5, 20) -> (16.5, 0)
  line L3 (16.5, 0) -> (9, 0)
  circle A0 centre (16.5, 0) radius 4
  circle A1 centre (16.5, 0) radius 7.5
  point P0 (0, 75)
  point P1 (16.5, 7.5)
  dimension "d167" = 20
  dimension "d168" = 7.5
  dimension "d169" = 8
  dimension "d170" = 15
extrude "Extrusion34" add sketch "Sketch33" against normal blind 12.6 contours A1 L2 A0 L3 | L3 A0 L2 A1 | L0 L1 L2 A1
ref_plane "Work Plane10" through (0, 36.3, -5) normal (0, -1, 0) x (1, 0, 0)
sketch "Sketch34" plane through (0, 36.3, -5) normal (0, -1, 0) x (1, 0, 0)
  circle A0 centre (16.5, -70) radius 4 projected
  line L0 (16.5, -50) -> (16.5, -70)
  line L1 (16.5, -70) -> (9, -70)
  line L2 (9, -70) -> (9, -50)
  line L3 (9, -50) -> (16.5, -50)
  circle A1 centre (16.5, -70) radius 4
  circle A2 centre (16.5, -70) radius 7.5
  point P0 (0, 5)
  point P1 (16.5, -62.5)
  dimension "d174" = 20
  dimension "d175" = 7.5
  dimension "d176" = 20
  dimension "d177" = 8
  dimension "d178" = 15
extrude "Extrusion35" cut sketch "Sketch34" along normal mid plane 4.2 contours A0 L0 A2 L1 | A0 L1 A2 L0 | A2 L2 L3 L0
thread "Thread3" size "M8x1.25" class "6H" standard "ANSI Metric M Profile" full length
sketch "Boceto10" plane through (95, 250, -5) normal (0, 1, 0) x (1, 0, 0)
  line L0 (5, 0) -> (-4, 0) projected
  line L1 (5, 70) -> (-4, 70) projected
  line L2 (-2, 0) -> (1, 0)
  line L3 (1, 0) -> (1, 70)
  line L4 (1, 70) -> (-2, 70)
  line L5 (-2, 70) -> (-2, 0)
  line L6 (-4, 0) -> (-4, 70) projected
  point P0 (-2, 70)
  point P1 (1, 0)
  dimension "d192" = 2
  dimension "d193" = 3
extrude "Extrusión36" cut sketch "Boceto10" against normal blind 20 contours L0 L5 L1 L3
pattern_linear "Patrón rectangular1" count 3 spacing 110 along (0, -1, 0) of "Extrusión36"
equation "\"d184\" = d183"
equation "\"d185\" = d183"
properties part number "Interior Izq" material "Plástico PET"
